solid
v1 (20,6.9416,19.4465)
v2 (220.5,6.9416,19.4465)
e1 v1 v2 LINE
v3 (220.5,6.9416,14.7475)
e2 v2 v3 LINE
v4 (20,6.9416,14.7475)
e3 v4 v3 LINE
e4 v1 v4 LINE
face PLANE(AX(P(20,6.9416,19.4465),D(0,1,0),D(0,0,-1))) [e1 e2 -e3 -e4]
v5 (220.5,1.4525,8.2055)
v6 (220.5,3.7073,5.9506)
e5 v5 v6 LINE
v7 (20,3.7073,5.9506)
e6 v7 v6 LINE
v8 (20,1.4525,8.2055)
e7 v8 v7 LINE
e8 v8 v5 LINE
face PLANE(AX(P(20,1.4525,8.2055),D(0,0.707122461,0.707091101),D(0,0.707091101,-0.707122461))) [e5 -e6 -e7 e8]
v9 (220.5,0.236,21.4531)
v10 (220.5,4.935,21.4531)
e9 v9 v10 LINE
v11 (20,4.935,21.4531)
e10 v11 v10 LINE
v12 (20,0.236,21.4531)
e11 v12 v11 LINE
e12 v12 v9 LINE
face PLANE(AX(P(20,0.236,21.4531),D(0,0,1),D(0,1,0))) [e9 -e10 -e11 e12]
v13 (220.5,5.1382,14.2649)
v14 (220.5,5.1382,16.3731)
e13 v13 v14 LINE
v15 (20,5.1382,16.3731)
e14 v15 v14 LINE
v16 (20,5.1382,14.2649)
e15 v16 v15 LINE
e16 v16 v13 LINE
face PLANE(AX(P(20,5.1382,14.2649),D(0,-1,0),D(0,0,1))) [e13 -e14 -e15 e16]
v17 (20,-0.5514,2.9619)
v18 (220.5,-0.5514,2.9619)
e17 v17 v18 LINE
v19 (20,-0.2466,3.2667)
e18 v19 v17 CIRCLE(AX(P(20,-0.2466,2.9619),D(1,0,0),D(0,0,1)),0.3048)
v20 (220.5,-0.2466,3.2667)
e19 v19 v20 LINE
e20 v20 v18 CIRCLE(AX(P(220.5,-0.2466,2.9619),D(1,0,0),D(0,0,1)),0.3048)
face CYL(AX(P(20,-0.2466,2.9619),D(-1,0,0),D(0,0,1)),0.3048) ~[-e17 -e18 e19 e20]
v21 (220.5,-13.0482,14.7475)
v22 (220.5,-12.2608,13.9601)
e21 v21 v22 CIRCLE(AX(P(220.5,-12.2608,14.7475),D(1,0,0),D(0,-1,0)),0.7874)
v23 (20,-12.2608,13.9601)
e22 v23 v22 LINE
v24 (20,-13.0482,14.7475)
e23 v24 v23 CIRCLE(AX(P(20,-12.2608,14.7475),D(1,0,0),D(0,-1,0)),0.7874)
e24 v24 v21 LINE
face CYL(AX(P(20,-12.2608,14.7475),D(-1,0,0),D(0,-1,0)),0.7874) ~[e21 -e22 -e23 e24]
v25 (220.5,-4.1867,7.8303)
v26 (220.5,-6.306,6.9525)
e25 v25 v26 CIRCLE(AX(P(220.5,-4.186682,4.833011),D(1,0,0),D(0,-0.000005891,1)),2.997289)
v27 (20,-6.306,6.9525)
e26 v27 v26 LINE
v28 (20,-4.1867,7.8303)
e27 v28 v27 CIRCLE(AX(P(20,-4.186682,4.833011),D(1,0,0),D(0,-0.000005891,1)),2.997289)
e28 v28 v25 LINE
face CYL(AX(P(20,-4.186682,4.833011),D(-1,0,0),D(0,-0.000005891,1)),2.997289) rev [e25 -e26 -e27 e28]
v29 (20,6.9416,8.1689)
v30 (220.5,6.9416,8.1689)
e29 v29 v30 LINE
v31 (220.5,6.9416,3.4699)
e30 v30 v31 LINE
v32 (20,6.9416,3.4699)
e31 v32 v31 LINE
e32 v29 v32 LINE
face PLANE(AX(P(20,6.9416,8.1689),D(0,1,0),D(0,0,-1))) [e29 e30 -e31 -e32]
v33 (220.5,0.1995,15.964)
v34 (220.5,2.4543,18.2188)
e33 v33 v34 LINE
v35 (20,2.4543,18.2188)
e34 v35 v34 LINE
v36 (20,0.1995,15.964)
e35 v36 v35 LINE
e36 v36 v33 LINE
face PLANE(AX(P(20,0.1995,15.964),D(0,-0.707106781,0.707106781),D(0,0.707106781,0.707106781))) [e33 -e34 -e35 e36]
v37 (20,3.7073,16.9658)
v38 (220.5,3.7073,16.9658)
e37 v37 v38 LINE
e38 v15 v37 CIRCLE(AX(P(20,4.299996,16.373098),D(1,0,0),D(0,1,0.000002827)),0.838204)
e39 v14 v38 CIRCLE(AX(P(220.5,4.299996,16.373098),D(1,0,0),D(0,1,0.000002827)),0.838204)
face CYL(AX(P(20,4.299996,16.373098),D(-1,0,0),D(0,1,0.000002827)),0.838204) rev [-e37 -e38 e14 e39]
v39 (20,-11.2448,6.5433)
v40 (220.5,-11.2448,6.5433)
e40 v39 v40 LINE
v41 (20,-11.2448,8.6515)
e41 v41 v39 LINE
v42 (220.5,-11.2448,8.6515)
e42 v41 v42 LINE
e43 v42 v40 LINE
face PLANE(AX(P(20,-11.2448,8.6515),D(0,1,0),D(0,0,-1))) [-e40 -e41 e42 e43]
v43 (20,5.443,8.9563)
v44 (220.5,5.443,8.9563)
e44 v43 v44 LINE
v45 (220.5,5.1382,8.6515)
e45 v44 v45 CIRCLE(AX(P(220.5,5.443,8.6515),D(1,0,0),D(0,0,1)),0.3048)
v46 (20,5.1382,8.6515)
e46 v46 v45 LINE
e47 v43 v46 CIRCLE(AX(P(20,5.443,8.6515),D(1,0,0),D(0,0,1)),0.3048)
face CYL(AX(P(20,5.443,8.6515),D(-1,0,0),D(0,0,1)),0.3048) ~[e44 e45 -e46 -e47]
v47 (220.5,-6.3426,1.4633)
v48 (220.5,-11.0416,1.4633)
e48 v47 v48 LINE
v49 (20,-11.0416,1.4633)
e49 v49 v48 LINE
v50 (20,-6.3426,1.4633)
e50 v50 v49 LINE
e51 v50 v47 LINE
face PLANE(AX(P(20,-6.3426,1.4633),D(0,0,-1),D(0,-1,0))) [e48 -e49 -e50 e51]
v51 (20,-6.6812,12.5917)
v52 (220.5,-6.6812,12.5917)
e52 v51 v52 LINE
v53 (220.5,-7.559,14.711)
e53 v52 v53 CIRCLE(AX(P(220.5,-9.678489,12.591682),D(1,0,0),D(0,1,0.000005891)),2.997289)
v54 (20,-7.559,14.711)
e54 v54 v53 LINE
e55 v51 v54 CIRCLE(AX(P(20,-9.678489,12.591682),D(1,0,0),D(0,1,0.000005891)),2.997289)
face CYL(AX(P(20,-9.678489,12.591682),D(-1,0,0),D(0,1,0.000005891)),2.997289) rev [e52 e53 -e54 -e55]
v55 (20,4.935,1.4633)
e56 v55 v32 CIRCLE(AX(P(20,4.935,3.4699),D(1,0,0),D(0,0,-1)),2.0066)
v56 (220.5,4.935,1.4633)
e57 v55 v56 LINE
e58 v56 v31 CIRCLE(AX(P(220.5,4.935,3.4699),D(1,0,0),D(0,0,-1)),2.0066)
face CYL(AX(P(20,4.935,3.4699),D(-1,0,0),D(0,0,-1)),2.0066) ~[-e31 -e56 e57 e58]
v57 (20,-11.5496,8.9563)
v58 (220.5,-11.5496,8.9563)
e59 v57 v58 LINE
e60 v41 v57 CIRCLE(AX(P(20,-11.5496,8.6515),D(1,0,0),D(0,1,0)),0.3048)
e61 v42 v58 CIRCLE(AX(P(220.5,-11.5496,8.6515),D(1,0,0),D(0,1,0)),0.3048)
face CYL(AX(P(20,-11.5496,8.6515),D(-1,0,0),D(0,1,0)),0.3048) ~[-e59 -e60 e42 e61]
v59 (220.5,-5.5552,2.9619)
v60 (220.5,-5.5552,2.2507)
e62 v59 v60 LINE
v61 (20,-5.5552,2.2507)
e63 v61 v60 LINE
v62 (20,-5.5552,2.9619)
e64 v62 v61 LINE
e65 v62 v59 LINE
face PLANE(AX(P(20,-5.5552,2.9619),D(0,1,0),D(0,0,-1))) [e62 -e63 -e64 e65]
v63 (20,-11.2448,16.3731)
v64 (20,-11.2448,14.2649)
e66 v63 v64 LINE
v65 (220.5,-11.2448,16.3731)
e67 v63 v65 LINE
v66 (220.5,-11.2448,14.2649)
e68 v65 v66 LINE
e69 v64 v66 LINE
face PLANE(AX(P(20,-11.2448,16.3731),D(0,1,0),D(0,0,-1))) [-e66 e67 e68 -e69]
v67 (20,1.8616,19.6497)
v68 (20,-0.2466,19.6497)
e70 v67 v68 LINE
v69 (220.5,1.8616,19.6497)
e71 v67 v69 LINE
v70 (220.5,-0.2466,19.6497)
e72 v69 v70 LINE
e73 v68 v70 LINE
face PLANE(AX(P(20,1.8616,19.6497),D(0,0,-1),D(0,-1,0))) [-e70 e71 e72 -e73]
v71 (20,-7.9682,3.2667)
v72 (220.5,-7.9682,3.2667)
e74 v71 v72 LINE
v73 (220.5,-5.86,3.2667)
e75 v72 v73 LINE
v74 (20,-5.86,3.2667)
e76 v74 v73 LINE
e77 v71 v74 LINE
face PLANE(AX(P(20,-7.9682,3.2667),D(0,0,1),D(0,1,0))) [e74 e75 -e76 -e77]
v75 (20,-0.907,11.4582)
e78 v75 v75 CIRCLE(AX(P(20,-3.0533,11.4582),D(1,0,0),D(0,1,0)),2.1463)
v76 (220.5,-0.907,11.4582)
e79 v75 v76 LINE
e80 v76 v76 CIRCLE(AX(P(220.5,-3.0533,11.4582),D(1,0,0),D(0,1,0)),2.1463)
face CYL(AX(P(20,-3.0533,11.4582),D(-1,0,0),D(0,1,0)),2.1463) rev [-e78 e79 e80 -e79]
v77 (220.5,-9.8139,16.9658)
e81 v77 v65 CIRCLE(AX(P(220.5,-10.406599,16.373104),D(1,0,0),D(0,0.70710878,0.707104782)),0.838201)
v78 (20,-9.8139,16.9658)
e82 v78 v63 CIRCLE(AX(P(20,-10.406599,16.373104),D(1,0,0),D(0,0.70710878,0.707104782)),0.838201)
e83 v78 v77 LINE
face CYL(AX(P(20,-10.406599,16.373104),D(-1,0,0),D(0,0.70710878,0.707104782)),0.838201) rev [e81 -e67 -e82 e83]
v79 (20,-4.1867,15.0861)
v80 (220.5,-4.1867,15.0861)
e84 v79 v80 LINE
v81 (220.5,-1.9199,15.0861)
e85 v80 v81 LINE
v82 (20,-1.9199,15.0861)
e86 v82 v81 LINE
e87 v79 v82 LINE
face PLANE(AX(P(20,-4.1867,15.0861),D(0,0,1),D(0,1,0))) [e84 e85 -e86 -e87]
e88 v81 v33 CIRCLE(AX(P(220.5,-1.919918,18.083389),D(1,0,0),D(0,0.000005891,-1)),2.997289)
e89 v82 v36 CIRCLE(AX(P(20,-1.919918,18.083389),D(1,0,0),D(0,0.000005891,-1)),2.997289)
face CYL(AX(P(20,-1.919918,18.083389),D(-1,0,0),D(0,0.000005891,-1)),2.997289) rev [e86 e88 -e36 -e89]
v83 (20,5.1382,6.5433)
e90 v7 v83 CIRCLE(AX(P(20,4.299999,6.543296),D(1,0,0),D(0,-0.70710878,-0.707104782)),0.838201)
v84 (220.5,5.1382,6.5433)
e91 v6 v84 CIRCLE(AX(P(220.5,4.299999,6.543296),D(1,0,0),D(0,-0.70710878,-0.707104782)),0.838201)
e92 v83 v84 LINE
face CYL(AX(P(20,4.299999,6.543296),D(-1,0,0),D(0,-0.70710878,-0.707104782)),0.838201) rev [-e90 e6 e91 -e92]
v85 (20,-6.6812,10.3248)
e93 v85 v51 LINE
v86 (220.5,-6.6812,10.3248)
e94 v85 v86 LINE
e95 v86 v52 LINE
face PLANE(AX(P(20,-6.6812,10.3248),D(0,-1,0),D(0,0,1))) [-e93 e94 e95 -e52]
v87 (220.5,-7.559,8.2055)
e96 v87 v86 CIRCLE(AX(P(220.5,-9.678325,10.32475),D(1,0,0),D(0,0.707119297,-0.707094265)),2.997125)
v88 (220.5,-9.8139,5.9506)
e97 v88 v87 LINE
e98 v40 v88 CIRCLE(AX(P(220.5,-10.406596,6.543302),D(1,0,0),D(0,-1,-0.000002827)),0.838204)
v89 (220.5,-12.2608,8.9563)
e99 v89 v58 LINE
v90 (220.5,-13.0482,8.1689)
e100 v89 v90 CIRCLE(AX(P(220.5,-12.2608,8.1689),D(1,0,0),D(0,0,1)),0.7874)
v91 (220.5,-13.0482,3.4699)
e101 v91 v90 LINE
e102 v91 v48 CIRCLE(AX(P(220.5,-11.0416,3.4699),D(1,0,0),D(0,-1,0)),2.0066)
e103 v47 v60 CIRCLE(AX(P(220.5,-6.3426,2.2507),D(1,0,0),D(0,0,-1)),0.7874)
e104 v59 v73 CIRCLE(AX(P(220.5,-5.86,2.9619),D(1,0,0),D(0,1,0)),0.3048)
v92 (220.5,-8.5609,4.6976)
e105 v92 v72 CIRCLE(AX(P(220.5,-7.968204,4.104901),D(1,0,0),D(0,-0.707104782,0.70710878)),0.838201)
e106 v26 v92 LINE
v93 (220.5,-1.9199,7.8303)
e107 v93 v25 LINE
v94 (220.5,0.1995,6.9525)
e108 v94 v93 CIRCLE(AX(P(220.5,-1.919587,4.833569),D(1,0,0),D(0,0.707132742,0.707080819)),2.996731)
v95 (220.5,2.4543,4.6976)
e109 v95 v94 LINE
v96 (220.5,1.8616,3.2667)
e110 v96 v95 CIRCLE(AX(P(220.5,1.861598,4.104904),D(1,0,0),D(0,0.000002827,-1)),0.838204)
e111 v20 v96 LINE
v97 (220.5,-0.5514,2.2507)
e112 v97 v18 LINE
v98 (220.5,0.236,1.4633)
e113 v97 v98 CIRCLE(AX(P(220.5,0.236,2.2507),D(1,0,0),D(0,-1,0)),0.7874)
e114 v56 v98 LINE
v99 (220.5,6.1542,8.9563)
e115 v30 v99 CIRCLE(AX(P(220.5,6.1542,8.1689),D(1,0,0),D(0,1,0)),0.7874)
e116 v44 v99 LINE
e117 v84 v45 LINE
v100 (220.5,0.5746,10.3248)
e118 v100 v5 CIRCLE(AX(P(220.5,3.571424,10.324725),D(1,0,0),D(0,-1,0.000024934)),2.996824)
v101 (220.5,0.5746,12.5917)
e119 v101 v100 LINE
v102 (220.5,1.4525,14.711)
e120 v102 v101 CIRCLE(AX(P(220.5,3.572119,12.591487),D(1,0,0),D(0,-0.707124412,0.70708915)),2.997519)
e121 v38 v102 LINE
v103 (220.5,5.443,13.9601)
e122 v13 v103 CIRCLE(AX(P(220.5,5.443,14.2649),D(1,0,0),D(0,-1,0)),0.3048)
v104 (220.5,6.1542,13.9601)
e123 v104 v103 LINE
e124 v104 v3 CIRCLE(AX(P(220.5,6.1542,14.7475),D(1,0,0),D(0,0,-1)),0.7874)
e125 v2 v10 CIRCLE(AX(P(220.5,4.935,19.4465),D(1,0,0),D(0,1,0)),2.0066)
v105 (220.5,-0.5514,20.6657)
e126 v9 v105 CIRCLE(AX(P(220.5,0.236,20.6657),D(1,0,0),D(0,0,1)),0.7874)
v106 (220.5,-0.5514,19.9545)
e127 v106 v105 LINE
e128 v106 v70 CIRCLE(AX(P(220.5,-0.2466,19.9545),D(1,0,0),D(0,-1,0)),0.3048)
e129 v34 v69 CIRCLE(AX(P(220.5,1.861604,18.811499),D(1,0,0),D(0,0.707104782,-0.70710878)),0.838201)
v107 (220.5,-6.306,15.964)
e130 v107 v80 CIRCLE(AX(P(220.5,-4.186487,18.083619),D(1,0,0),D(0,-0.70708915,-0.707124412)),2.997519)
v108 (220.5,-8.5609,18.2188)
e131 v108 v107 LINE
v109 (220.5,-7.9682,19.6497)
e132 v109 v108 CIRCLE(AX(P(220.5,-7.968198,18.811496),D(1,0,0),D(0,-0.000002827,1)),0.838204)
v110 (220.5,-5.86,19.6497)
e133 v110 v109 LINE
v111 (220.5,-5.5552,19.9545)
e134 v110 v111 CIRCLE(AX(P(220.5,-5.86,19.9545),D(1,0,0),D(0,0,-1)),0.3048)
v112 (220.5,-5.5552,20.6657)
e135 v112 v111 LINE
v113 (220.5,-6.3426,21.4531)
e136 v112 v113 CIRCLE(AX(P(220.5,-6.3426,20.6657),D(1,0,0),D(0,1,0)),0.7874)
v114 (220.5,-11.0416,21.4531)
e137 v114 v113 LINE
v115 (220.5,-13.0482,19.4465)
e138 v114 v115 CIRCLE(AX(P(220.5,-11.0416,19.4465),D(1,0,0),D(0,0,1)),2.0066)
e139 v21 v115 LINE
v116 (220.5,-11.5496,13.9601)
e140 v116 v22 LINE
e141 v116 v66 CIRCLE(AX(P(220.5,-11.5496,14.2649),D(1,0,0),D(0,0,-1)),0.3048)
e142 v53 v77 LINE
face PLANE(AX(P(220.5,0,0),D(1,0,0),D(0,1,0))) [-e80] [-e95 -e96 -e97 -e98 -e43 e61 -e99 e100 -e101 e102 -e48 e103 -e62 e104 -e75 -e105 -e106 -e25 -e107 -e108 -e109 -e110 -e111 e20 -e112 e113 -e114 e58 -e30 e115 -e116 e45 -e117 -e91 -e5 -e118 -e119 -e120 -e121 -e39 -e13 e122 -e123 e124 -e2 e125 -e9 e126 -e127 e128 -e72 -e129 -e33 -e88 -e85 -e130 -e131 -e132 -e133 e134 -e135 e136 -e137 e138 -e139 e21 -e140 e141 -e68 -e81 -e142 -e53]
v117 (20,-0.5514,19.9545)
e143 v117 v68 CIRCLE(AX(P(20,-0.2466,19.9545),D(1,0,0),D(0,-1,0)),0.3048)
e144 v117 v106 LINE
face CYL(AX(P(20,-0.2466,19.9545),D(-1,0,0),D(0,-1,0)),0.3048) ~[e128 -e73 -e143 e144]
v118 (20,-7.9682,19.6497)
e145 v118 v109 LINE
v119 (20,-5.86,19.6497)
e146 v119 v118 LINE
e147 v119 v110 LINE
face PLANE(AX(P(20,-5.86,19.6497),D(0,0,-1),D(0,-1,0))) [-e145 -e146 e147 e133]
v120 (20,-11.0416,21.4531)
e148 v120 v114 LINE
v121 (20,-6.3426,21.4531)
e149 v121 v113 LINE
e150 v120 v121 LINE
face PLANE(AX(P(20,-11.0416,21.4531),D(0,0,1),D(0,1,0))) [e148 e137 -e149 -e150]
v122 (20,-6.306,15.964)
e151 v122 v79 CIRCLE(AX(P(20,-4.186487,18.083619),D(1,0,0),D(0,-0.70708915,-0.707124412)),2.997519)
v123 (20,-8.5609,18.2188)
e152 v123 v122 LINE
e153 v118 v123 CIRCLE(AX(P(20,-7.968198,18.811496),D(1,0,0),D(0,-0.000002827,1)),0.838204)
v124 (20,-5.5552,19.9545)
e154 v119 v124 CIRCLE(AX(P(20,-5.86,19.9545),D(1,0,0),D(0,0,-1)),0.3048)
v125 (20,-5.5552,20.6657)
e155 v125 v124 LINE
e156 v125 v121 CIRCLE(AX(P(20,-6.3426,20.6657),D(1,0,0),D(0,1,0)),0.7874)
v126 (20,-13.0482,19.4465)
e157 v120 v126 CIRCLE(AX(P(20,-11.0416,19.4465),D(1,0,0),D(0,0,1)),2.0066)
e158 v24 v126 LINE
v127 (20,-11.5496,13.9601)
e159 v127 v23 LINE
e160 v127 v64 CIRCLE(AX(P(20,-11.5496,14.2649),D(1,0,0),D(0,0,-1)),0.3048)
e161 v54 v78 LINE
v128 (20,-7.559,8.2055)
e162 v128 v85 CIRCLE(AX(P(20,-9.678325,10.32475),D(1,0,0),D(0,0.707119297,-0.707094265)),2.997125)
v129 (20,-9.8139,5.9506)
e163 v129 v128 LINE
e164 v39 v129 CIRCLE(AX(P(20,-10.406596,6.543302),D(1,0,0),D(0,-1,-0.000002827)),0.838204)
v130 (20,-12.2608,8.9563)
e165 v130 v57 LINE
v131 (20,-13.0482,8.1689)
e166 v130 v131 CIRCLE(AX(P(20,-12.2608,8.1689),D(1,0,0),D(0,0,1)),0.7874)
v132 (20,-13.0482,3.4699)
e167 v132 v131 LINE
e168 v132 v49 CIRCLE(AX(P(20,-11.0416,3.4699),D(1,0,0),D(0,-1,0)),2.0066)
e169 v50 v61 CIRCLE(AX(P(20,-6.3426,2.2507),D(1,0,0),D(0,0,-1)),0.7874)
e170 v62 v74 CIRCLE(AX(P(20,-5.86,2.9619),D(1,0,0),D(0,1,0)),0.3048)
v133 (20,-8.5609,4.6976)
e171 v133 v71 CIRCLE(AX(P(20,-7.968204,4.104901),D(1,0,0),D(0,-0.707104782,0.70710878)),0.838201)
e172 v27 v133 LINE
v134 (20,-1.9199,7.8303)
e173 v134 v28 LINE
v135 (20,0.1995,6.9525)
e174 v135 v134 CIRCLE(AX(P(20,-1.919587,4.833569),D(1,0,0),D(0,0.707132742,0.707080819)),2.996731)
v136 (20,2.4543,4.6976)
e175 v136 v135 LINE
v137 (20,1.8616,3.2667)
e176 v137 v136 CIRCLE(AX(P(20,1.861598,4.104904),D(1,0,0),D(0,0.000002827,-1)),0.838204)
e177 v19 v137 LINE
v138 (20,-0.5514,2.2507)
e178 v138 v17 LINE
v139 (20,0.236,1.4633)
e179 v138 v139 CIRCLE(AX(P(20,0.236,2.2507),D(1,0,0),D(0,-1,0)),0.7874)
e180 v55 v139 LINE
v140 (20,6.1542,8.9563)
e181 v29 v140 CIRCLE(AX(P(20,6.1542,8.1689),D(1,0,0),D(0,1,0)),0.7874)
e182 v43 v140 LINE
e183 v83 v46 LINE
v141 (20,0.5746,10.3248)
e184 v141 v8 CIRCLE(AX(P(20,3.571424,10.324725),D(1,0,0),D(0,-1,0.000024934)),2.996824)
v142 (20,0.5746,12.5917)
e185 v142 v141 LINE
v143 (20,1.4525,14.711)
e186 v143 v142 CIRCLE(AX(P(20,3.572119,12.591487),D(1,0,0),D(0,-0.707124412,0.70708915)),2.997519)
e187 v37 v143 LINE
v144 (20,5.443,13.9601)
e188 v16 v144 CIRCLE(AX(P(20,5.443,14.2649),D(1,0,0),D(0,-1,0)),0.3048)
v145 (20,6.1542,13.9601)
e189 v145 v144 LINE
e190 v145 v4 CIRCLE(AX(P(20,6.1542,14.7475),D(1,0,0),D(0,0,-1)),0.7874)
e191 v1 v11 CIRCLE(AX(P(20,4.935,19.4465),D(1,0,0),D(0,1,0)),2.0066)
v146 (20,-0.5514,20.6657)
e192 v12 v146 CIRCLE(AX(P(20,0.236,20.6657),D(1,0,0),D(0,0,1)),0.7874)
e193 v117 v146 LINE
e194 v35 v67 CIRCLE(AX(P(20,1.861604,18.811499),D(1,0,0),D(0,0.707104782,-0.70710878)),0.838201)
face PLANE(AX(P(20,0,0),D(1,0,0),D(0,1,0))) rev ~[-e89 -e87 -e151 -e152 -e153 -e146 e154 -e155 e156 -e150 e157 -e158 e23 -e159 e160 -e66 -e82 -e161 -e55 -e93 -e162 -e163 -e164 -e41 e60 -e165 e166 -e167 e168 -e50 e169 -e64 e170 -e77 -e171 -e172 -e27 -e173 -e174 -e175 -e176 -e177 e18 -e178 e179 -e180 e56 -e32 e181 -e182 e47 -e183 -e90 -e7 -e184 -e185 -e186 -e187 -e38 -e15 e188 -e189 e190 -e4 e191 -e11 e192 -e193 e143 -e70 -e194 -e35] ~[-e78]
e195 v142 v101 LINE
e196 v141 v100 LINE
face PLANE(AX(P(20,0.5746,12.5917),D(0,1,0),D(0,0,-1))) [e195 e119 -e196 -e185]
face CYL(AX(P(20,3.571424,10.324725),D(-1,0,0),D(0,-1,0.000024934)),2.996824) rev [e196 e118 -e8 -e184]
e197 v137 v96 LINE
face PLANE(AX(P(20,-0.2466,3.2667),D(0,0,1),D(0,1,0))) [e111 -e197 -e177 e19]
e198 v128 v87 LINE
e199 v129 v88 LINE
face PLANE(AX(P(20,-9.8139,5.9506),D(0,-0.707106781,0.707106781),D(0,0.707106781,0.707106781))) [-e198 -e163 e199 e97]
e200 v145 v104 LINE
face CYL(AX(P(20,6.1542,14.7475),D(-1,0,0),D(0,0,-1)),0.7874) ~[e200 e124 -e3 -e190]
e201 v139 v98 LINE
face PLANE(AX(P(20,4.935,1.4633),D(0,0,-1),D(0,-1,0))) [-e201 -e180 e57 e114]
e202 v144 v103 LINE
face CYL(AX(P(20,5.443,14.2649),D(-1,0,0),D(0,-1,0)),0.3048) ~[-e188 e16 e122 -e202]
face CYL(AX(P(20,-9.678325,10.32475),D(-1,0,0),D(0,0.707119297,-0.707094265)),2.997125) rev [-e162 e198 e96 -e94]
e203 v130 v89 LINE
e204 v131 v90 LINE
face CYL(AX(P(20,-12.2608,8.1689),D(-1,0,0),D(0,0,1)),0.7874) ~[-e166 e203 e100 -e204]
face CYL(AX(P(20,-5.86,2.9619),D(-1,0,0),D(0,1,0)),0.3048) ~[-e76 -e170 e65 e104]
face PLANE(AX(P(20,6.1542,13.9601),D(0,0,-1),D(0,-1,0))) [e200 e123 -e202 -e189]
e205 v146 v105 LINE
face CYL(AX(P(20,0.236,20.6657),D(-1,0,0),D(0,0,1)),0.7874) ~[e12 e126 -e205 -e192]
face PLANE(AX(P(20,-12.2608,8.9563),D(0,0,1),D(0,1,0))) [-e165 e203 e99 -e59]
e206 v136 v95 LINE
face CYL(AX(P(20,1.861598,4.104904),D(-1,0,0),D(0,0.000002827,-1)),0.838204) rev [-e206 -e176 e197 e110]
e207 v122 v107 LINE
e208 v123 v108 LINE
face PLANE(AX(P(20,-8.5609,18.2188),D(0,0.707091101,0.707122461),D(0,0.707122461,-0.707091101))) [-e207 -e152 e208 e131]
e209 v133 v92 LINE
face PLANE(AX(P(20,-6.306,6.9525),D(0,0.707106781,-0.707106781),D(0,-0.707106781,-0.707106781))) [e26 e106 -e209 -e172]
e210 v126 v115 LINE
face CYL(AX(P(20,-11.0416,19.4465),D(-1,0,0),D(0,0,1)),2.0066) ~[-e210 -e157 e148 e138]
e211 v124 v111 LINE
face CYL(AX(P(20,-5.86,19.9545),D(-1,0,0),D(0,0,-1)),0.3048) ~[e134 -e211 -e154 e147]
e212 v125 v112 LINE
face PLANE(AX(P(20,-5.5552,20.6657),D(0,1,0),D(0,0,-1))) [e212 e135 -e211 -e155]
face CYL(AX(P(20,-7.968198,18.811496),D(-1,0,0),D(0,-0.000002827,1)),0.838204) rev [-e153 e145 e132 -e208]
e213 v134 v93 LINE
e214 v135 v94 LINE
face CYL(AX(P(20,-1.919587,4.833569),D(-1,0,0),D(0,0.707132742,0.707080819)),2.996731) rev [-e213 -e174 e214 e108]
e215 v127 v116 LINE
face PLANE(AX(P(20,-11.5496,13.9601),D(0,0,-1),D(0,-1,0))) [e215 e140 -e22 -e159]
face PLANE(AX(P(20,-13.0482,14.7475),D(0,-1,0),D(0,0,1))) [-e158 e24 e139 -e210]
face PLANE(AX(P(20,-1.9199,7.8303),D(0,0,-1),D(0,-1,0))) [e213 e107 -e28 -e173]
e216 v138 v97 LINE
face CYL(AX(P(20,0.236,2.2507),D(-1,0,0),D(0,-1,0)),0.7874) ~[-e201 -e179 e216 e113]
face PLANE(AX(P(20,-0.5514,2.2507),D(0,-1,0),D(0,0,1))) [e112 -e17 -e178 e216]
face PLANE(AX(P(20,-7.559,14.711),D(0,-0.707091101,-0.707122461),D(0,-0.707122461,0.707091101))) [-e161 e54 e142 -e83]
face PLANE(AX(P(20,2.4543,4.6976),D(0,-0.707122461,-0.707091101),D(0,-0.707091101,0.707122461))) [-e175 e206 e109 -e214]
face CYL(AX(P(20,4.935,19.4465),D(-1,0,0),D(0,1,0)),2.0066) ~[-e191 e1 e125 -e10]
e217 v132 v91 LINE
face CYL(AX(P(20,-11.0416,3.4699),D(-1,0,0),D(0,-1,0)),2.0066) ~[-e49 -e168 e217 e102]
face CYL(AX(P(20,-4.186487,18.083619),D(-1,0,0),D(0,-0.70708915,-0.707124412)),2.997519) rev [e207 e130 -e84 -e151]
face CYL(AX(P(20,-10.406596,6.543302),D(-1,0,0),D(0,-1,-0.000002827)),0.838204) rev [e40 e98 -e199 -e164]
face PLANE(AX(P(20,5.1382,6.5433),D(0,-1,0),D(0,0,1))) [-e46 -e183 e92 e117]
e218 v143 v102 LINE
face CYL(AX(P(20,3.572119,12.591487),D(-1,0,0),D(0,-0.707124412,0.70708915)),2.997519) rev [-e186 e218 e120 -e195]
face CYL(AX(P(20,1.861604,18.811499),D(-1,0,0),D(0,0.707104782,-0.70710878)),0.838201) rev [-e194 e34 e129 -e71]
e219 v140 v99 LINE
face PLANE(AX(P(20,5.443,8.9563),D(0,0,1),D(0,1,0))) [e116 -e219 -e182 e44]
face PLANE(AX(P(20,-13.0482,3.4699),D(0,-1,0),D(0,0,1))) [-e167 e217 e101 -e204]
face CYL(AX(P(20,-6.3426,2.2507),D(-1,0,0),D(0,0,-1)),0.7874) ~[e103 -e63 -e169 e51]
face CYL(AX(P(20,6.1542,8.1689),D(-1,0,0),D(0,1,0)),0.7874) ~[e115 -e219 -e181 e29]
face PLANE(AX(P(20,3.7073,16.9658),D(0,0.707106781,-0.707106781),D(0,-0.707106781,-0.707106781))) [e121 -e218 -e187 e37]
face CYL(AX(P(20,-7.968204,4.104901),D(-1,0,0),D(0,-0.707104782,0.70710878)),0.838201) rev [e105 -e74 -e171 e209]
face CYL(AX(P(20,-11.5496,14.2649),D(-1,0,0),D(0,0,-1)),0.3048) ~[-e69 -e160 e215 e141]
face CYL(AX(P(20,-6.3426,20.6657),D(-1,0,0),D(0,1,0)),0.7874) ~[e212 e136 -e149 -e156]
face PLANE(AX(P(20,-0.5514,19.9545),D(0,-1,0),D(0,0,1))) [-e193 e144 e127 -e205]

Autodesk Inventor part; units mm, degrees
ref_plane "XZ Plane" through (0, 0, 0) normal (0, 1, 0) x (-1, 0, 0)
ref_plane "Start Plane" through (20, 0, 0) normal (1, 0, 0) x (0, 1, 0)
ref_plane "End Plane" through (220.5, 0, 0) normal (1, 0, 0) x (0, 1, 0)
sketch "Sketch" plane through (0, 0, 0) normal (1, 0, 0) x (0, 1, 0)
  circle A0 centre (-3.0533, 11.4582) radius 2.1463
  line L0 (2.4543, 4.6976) -> (0.1995, 6.9525)
  arc A1 (1.8616, 3.2667) -> (2.4543, 4.6976) centre (1.8616, 4.1049) ccw
  line L1 (-0.2466, 3.2667) -> (1.8616, 3.2667)
  arc A2 (-0.2466, 3.2667) -> (-0.5514, 2.9619) centre (-0.2466, 2.9619) ccw
  line L2 (-0.5514, 2.2507) -> (-0.5514, 2.9619)
  arc A3 (-0.5514, 2.2507) -> (0.236, 1.4633) centre (0.236, 2.2507) ccw
  line L3 (4.935, 1.4633) -> (0.236, 1.4633)
  arc A4 (4.935, 1.4633) -> (6.9416, 3.4699) centre (4.935, 3.4699) ccw
  line L4 (6.9416, 8.1689) -> (6.9416, 3.4699)
  arc A5 (6.9416, 8.1689) -> (6.1542, 8.9563) centre (6.1542, 8.1689) ccw
  line L5 (5.443, 8.9563) -> (6.1542, 8.9563)
  arc A6 (5.443, 8.9563) -> (5.1382, 8.6515) centre (5.443, 8.6515) ccw
  line L6 (5.1382, 6.5433) -> (5.1382, 8.6515)
  arc A7 (3.7073, 5.9506) -> (5.1382, 6.5433) centre (4.3, 6.5433) ccw
  line L7 (1.4525, 8.2055) -> (3.7073, 5.9506)
  arc A8 (0.5746, 10.3248) -> (1.4525, 8.2055) centre (3.5718, 10.3248) ccw
  line L8 (0.5746, 12.5917) -> (0.5746, 10.3248)
  arc A9 (1.4525, 14.711) -> (0.5746, 12.5917) centre (3.5718, 12.5917) ccw
  line L9 (3.7073, 16.9658) -> (1.4525, 14.711)
  arc A10 (5.1382, 16.3731) -> (3.7073, 16.9658) centre (4.3, 16.3731) ccw
  line L10 (5.1382, 14.2649) -> (5.1382, 16.3731)
  arc A11 (5.1382, 14.2649) -> (5.443, 13.9601) centre (5.443, 14.2649) ccw
  line L11 (6.1542, 13.9601) -> (5.443, 13.9601)
  arc A12 (6.1542, 13.9601) -> (6.9416, 14.7475) centre (6.1542, 14.7475) ccw
  line L12 (6.9416, 19.4465) -> (6.9416, 14.7475)
  arc A13 (6.9416, 19.4465) -> (4.935, 21.4531) centre (4.935, 19.4465) ccw
  line L13 (0.236, 21.4531) -> (4.935, 21.4531)
  arc A14 (0.236, 21.4531) -> (-0.5514, 20.6657) centre (0.236, 20.6657) ccw
  line L14 (-0.5514, 19.9545) -> (-0.5514, 20.6657)
  arc A15 (-0.5514, 19.9545) -> (-0.2466, 19.6497) centre (-0.2466, 19.9545) ccw
  line L15 (1.8616, 19.6497) -> (-0.2466, 19.6497)
  arc A16 (2.4543, 18.2188) -> (1.8616, 19.6497) centre (1.8616, 18.8115) ccw
  line L16 (0.1995, 15.964) -> (2.4543, 18.2188)
  arc A17 (-1.9199, 15.0861) -> (0.1995, 15.964) centre (-1.9199, 18.0833) ccw
  line L17 (-4.1867, 15.0861) -> (-1.9199, 15.0861)
  arc A18 (-6.306, 15.964) -> (-4.1867, 15.0861) centre (-4.1867, 18.0833) ccw
  line L18 (-8.5609, 18.2188) -> (-6.306, 15.964)
  arc A19 (-7.9682, 19.6497) -> (-8.5609, 18.2188) centre (-7.9682, 18.8115) ccw
  line L19 (-5.86, 19.6497) -> (-7.9682, 19.6497)
  arc A20 (-5.86, 19.6497) -> (-5.5552, 19.9545) centre (-5.86, 19.9545) ccw
  line L20 (-5.5552, 20.6657) -> (-5.5552, 19.9545)
  arc A21 (-5.5552, 20.6657) -> (-6.3426, 21.4531) centre (-6.3426, 20.6657) ccw
  line L21 (-11.0416, 21.4531) -> (-6.3426, 21.4531)
  arc A22 (-11.0416, 21.4531) -> (-13.0482, 19.4465) centre (-11.0416, 19.4465) ccw
  line L22 (-13.0482, 14.7475) -> (-13.0482, 19.4465)
  arc A23 (-13.0482, 14.7475) -> (-12.2608, 13.9601) centre (-12.2608, 14.7475) ccw
  line L23 (-11.5496, 13.9601) -> (-12.2608, 13.9601)
  arc A24 (-11.5496, 13.9601) -> (-11.2448, 14.2649) centre (-11.5496, 14.2649) ccw
  line L24 (-11.2448, 16.3731) -> (-11.2448, 14.2649)
  arc A25 (-9.8139, 16.9658) -> (-11.2448, 16.3731) centre (-10.4066, 16.3731) ccw
  line L25 (-7.559, 14.711) -> (-9.8139, 16.9658)
  arc A26 (-6.6812, 12.5917) -> (-7.559, 14.711) centre (-9.6784, 12.5917) ccw
  line L26 (-6.6812, 10.3248) -> (-6.6812, 12.5917)
  arc A27 (-7.559, 8.2055) -> (-6.6812, 10.3248) centre (-9.6784, 10.3248) ccw
  line L27 (-9.8139, 5.9506) -> (-7.559, 8.2055)
  arc A28 (-11.2448, 6.5433) -> (-9.8139, 5.9506) centre (-10.4066, 6.5433) ccw
  line L28 (-11.2448, 8.6515) -> (-11.2448, 6.5433)
  arc A29 (-11.2448, 8.6515) -> (-11.5496, 8.9563) centre (-11.5496, 8.6515) ccw
  line L29 (-12.2608, 8.9563) -> (-11.5496, 8.9563)
  arc A30 (-12.2608, 8.9563) -> (-13.0482, 8.1689) centre (-12.2608, 8.1689) ccw
  line L30 (-13.0482, 3.4699) -> (-13.0482, 8.1689)
  arc A31 (-13.0482, 3.4699) -> (-11.0416, 1.4633) centre (-11.0416, 3.4699) ccw
  line L31 (-6.3426, 1.4633) -> (-11.0416, 1.4633)
  arc A32 (-6.3426, 1.4633) -> (-5.5552, 2.2507) centre (-6.3426, 2.2507) ccw
  line L32 (-5.5552, 2.9619) -> (-5.5552, 2.2507)
  arc A33 (-5.5552, 2.9619) -> (-5.86, 3.2667) centre (-5.86, 2.9619) ccw
  line L33 (-7.9682, 3.2667) -> (-5.86, 3.2667)
  arc A34 (-8.5609, 4.6976) -> (-7.9682, 3.2667) centre (-7.9682, 4.1049) ccw
  line L34 (-6.306, 6.9525) -> (-8.5609, 4.6976)
  arc A35 (-4.1867, 7.8303) -> (-6.306, 6.9525) centre (-4.1867, 4.8331) ccw
  line L35 (-1.9199, 7.8303) -> (-4.1867, 7.8303)
  arc A36 (0.1995, 6.9525) -> (-1.9199, 7.8303) centre (-1.9199, 4.8331) ccw
  point P0 (0, 0)
extrude "Body" add sketch "Sketch" along normal up to surface (200.5 mm away) from surface at 20
sketch "Sketch2" plane through (0, 0, 0) normal (1, 0, 0) x (0, 1, 0)
  line L0 (0, 0) -> (10, 0)
ref_plane "Work Plane3" through (0, 0, 0) normal (0, 0, -1) x (0, 1, 0)
sketch "Sketch3" plane through (0, 0, 0) normal (0, 0, -1) x (0, 1, 0)
  line L0 (-2, 20) -> (12, 20)
  line L1 (-2, 220.5) -> (12, 220.5)
  dimension "d7" = 200.5
equation "\"G_OFFSET_START\" = -20"
equation "\"G_OFFSET_END\" = -20"
equation "\"d2\" = -G_OFFSET_START"
equation "\"d3\" = length + G_OFFSET_END"
equation "\"G_L\" = d7"
equation "\"length\" = 240.5"
properties part number "Generic-1"
